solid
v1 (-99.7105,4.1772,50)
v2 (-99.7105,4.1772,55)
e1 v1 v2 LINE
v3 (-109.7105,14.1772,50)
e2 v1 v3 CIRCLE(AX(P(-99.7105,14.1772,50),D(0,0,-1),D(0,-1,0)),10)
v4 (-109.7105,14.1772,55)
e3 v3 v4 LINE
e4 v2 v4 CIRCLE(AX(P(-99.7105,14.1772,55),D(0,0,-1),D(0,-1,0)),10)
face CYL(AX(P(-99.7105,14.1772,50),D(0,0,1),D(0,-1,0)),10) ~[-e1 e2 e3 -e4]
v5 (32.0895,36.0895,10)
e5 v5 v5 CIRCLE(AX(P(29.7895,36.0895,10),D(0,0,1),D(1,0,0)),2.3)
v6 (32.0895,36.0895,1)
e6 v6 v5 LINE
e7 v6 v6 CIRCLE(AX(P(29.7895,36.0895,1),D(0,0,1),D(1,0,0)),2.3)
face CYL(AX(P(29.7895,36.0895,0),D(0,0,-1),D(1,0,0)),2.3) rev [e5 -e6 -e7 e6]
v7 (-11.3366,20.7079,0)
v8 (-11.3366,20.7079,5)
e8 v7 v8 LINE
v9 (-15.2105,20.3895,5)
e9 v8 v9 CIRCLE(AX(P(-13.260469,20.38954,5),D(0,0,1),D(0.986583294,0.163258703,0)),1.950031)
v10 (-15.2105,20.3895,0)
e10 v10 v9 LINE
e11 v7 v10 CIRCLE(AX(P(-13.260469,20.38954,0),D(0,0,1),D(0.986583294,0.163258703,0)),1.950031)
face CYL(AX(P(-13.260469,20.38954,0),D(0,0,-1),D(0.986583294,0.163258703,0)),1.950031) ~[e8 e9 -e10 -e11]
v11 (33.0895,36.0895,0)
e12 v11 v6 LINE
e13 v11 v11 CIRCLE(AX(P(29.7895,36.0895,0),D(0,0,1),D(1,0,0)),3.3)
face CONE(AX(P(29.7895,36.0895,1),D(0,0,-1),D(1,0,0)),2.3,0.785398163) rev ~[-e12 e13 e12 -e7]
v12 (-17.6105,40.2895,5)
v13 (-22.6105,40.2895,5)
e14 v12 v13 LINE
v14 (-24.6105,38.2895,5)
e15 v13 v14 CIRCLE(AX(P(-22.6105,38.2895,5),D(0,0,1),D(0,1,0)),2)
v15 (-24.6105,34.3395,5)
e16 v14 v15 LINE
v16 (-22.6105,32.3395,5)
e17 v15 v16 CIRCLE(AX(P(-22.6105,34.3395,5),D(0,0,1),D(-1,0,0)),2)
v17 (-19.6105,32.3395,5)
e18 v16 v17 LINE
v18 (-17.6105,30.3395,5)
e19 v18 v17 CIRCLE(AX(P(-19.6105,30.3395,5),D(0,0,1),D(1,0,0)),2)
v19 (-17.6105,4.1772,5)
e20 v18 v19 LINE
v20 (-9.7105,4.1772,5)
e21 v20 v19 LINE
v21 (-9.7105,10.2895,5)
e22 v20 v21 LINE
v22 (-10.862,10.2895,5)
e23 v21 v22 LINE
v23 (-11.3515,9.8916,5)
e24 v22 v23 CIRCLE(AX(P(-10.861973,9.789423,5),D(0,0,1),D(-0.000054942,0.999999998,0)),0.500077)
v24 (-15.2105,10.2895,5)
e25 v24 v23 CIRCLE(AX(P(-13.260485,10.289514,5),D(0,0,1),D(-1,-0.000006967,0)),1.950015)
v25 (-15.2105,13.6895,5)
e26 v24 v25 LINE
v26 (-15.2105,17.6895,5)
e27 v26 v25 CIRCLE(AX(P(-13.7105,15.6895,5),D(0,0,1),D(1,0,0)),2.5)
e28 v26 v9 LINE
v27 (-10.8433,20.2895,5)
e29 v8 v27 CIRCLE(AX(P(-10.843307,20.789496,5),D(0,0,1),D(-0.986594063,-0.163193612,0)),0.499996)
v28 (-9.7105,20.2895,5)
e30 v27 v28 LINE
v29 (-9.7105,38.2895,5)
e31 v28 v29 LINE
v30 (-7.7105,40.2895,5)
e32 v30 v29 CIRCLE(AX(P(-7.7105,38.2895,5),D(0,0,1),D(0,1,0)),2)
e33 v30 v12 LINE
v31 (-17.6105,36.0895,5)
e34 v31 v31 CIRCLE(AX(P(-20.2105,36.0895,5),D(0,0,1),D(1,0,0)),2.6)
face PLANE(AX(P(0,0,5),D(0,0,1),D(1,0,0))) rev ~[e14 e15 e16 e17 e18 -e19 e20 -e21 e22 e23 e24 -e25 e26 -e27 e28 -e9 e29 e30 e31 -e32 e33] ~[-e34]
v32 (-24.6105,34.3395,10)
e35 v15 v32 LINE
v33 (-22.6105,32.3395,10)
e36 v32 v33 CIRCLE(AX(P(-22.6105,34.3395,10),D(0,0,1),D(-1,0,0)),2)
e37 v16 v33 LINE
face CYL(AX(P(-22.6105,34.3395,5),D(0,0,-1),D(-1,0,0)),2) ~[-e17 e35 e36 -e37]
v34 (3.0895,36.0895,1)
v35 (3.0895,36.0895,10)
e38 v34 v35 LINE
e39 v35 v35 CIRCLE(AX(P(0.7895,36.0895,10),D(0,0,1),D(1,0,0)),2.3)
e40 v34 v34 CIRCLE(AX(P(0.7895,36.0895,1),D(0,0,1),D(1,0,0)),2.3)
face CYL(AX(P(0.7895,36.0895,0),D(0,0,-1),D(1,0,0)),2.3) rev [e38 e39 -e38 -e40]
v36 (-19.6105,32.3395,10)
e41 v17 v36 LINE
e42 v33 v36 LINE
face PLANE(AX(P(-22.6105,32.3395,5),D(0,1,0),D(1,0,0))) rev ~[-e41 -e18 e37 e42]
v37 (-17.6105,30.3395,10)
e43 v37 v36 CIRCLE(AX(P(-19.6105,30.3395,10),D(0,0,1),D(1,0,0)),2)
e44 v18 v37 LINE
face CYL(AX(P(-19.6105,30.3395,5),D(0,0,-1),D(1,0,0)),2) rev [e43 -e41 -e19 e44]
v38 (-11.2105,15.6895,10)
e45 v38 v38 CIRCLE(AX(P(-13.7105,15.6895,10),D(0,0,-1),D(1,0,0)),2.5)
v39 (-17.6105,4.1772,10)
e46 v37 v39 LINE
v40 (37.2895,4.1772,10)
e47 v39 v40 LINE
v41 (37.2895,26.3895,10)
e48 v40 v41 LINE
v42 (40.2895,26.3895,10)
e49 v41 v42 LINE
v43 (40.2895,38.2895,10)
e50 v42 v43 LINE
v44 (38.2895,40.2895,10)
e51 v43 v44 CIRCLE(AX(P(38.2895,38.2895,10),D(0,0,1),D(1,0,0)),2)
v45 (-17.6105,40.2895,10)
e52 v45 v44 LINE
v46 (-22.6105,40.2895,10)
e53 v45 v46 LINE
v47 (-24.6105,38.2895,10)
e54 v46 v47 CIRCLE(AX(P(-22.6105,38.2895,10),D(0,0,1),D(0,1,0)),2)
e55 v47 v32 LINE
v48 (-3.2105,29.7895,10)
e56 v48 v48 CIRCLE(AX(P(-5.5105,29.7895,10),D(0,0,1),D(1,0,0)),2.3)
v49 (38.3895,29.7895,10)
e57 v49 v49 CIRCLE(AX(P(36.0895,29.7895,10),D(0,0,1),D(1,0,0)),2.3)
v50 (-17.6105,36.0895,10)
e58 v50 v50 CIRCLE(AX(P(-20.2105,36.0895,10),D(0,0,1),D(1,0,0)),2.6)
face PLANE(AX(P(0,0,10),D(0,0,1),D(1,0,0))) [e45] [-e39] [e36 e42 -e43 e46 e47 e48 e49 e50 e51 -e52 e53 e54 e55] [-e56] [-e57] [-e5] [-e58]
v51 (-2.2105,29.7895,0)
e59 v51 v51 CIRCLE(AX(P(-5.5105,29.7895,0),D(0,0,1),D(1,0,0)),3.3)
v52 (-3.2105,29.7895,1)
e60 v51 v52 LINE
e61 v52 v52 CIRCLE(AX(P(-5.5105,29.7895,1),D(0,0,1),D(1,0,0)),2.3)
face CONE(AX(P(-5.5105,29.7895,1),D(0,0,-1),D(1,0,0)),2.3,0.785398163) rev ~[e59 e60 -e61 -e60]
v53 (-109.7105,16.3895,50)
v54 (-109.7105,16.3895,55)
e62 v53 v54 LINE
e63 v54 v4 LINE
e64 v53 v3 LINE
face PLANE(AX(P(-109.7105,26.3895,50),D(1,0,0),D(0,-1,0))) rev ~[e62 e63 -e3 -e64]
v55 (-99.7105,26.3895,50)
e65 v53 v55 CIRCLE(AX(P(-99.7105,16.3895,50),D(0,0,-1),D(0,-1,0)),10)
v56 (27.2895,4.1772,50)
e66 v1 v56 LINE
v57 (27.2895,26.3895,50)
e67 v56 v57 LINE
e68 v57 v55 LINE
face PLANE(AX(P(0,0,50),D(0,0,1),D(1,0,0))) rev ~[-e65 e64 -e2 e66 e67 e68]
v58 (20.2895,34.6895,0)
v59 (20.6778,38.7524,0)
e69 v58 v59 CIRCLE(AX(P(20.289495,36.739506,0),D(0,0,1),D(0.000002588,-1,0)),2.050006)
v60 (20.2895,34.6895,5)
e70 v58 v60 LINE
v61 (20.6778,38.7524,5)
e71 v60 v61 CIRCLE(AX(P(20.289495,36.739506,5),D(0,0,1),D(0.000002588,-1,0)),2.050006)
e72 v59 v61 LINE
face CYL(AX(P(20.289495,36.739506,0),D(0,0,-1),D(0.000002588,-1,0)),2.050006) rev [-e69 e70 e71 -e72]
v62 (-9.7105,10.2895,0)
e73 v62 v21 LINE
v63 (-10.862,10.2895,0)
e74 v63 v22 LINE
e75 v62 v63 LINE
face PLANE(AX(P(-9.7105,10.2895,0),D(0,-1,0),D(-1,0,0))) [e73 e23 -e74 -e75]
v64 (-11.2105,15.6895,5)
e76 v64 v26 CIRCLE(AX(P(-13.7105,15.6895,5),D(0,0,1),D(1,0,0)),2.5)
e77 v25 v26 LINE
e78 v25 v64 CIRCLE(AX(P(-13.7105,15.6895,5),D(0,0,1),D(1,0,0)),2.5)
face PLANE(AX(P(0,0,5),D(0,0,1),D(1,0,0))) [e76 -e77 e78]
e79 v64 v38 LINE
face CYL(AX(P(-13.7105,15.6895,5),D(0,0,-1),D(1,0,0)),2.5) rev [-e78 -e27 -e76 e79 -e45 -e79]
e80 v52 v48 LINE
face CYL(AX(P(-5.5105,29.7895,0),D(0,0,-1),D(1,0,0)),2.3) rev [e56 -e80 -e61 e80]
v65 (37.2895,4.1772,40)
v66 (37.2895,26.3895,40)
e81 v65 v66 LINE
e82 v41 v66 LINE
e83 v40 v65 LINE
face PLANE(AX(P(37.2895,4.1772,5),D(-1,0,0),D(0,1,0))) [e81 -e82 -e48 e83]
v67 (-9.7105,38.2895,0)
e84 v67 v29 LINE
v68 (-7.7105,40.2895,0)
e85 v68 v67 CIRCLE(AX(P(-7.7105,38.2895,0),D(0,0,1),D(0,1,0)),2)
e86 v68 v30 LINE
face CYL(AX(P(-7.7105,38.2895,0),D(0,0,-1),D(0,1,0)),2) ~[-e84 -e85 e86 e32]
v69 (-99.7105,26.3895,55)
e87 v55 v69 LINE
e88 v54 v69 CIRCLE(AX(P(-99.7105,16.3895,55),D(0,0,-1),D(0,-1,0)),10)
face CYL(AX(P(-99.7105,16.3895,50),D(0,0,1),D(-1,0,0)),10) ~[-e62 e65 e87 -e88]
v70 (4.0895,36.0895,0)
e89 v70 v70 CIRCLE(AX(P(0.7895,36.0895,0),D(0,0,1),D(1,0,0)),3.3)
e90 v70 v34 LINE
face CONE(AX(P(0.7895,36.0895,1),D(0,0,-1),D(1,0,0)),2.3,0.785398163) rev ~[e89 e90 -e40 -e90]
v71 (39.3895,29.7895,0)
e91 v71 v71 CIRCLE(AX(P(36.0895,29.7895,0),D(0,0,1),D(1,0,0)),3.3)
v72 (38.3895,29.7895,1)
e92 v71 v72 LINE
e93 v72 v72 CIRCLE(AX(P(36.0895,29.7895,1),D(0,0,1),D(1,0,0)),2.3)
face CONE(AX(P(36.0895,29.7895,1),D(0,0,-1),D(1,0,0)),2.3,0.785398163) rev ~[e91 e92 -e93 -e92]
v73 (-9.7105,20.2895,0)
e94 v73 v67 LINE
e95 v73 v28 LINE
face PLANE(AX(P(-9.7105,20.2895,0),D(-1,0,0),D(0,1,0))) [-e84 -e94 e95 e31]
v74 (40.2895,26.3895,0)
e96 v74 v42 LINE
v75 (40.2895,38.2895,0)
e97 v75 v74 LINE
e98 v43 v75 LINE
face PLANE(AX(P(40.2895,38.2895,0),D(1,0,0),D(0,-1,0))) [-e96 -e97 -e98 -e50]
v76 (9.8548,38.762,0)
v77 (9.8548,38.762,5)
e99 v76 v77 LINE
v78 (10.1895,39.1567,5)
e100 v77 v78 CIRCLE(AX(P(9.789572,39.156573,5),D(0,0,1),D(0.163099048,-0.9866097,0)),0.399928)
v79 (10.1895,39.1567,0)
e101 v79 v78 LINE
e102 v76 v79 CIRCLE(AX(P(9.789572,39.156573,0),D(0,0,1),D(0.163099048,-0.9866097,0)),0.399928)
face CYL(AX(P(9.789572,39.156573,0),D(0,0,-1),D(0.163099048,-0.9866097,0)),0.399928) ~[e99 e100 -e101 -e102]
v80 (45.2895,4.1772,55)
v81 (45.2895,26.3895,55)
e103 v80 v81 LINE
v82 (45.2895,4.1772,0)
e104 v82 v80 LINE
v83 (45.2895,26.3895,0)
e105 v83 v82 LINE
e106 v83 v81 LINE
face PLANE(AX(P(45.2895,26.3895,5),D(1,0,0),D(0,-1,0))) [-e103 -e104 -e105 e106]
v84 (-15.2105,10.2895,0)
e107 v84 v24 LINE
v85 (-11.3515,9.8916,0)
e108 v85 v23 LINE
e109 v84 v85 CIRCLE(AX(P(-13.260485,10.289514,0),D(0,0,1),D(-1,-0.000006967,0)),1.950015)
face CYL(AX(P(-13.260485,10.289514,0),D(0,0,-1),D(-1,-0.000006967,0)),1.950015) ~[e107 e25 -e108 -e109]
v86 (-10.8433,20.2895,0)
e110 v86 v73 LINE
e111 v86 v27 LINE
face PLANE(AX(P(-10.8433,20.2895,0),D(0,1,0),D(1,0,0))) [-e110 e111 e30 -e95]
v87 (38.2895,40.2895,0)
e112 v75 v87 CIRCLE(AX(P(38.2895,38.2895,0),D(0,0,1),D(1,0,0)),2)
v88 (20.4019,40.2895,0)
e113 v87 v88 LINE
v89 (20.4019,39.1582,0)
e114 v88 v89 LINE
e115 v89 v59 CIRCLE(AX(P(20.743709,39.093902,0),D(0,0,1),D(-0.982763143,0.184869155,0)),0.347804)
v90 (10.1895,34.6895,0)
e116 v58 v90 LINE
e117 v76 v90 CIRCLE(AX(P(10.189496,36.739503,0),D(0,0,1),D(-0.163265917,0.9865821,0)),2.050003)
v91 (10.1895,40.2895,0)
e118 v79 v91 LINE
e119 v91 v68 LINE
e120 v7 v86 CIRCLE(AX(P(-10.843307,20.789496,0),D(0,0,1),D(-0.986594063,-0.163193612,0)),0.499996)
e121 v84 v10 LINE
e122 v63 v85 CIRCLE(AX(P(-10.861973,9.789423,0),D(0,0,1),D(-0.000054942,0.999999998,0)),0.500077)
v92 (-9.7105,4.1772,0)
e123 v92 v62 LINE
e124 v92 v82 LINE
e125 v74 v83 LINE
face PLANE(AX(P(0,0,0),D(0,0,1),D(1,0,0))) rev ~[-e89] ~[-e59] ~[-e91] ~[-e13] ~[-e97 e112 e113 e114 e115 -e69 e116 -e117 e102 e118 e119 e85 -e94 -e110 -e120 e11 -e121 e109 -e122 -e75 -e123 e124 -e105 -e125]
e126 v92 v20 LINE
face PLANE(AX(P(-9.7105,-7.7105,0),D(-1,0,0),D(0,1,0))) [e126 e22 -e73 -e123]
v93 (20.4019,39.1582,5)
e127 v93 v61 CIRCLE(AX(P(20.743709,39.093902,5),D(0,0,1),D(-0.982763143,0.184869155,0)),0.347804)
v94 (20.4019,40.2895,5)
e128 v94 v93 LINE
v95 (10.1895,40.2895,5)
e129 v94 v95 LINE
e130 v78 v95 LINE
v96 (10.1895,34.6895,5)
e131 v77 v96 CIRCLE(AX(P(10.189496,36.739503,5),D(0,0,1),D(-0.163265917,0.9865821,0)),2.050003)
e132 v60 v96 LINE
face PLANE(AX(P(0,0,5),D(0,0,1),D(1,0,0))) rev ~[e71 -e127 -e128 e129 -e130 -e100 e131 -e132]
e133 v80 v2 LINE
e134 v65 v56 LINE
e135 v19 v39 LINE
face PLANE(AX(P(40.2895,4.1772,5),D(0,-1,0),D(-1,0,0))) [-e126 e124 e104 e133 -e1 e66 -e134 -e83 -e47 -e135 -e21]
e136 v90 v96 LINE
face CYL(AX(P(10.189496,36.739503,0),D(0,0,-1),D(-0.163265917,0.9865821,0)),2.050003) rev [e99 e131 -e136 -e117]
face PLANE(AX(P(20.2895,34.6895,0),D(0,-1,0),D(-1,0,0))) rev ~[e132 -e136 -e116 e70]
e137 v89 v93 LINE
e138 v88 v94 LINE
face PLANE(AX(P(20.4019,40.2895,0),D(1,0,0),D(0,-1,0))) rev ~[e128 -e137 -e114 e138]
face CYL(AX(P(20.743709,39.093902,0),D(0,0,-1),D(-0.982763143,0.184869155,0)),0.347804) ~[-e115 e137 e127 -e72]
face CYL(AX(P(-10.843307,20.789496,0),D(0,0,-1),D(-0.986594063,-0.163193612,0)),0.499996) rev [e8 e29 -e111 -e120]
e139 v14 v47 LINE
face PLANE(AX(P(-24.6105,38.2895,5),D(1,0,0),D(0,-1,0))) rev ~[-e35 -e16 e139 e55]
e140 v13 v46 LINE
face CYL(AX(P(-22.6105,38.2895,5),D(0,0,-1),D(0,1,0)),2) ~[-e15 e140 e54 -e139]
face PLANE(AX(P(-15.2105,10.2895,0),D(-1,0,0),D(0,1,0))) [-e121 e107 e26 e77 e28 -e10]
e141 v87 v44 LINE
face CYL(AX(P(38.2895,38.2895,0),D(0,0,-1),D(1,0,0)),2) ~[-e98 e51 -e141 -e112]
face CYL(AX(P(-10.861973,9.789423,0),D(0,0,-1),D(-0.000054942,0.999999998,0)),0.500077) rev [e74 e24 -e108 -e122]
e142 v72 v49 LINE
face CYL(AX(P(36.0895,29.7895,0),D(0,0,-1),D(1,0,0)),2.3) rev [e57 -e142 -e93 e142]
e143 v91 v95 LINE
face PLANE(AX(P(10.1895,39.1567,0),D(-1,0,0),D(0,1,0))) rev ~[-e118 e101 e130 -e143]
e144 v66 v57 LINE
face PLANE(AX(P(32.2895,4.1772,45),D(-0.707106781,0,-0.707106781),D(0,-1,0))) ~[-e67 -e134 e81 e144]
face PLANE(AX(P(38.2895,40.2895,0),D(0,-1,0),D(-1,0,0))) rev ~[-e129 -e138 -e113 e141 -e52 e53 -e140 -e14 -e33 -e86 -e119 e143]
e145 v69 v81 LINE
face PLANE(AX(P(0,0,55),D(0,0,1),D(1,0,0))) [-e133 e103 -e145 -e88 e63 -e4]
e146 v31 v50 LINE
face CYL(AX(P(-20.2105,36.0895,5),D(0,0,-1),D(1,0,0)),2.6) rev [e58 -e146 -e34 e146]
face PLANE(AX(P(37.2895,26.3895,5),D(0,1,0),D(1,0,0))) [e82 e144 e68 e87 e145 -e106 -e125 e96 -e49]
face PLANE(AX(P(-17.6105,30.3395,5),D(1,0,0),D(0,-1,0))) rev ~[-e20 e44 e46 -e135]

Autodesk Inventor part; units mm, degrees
ref_plane "YZ Plane" through (0, 0, 0) normal (1, 0, 0) x (0, 1, 0)
ref_plane "XZ Plane" through (0, 0, 0) normal (0, 1, 0) x (-1, 0, 0)
ref_plane "XY Plane" through (0, 0, 0) normal (0, 0, 1) x (1, 0, 0)
ref_plane "Arbeitsebene1" through (0, 0, 0) normal (0, 0, 1) x (1, 0, 0)
sketch "Skizze1" plane through (0, 0, 0) normal (0, 0, 1) x (1, 0, 0)
  circle A0 centre (-6.0705, 15.2895) radius 3.5 projected
  circle A1 centre (15.2895, -6.0705) radius 3.5 projected
  line L0 (30.5395, 32.5395) -> (0.0395, 32.5395) projected
  arc A2 (32.5395, 30.5395) -> (30.5395, 32.5395) centre (30.5395, 30.5395) ccw projected
  line L1 (32.5395, 30.5395) -> (32.5395, 0.0395) projected
  arc A3 (30.5395, -1.9605) -> (32.5395, 0.0395) centre (30.5395, 0.0395) ccw projected
  line L2 (0.0395, -1.9605) -> (30.5395, -1.9605) projected
  arc A4 (-1.9605, 0.0395) -> (0.0395, -1.9605) centre (0.0395, 0.0395) ccw projected
  line L3 (-1.9605, 0.0395) -> (-1.9605, 30.5395) projected
  arc A5 (0.0395, 32.5395) -> (-1.9605, 30.5395) centre (0.0395, 30.5395) ccw projected
  circle A6 centre (-4.7105, -4.7105) radius 2.45 projected
  circle A7 centre (0.7895, -5.5105) radius 2.3 projected
  circle A8 centre (-5.5105, 0.7895) radius 2.3 projected
  circle A9 centre (-5.5105, 29.7895) radius 2.3 projected
  circle A10 centre (0.7895, 36.0895) radius 2.3 projected
  circle A11 centre (-4.7105, 35.2895) radius 2.45 projected
  circle A12 centre (36.0895, 0.7895) radius 2.3 projected
  circle A13 centre (29.7895, -5.5105) radius 2.3 projected
  circle A14 centre (35.2895, -4.7105) radius 2.45 projected
  circle A15 centre (36.0895, 29.7895) radius 2.3 projected
  circle A16 centre (29.7895, 36.0895) radius 2.3 projected
  circle A17 centre (35.2895, 35.2895) radius 2.45 projected
  line L4 (20.4019, 40.2895) -> (20.4019, 39.1582) projected
  arc A18 (20.4019, 39.1582) -> (20.6778, 38.7524) centre (20.7437, 39.0939) ccw projected
  arc A19 (20.2895, 34.6895) -> (20.6778, 38.7524) centre (20.2895, 36.7395) ccw projected
  line L5 (20.2895, 34.6895) -> (10.1895, 34.6895) projected
  arc A20 (9.8548, 38.762) -> (10.1895, 34.6895) centre (10.1895, 36.7395) ccw projected
  arc A21 (9.8548, 38.762) -> (10.1895, 39.1567) centre (9.7895, 39.1567) ccw projected
  line L6 (10.1895, 39.1567) -> (10.1895, 40.2895) projected
  line L7 (10.1895, 40.2895) -> (-7.7105, 40.2895) projected
  arc A22 (-7.7105, 40.2895) -> (-9.7105, 38.2895) centre (-7.7105, 38.2895) ccw projected
  line L8 (-9.7105, 20.2895) -> (-9.7105, 38.2895) projected
  line L9 (-10.8433, 20.2895) -> (-9.7105, 20.2895) projected
  arc A23 (-11.3366, 20.7079) -> (-10.8433, 20.2895) centre (-10.8433, 20.7895) ccw projected
  arc A24 (-11.3366, 20.7079) -> (-15.2105, 20.3895) centre (-13.2605, 20.3895) ccw projected
  line L10 (-15.2105, 10.2895) -> (-15.2105, 20.3895) projected
  arc A25 (-15.2105, 10.2895) -> (-11.3515, 9.8916) centre (-13.2605, 10.2895) ccw projected
  arc A26 (-10.862, 10.2895) -> (-11.3515, 9.8916) centre (-10.862, 9.7895) ccw projected
  line L11 (-9.7105, 10.2895) -> (-10.862, 10.2895) projected
  line L12 (-9.7105, -7.7105) -> (-9.7105, 10.2895) projected
  arc A27 (-9.7105, -7.7105) -> (-7.7105, -9.7105) centre (-7.7105, -7.7105) ccw projected
  line L13 (-7.7105, -9.7105) -> (10.2895, -9.7105) projected
  line L14 (10.2895, -10.8433) -> (10.2895, -9.7105) projected
  arc A28 (9.8712, -11.3366) -> (10.2895, -10.8433) centre (9.7895, -10.8433) ccw projected
  arc A29 (9.8712, -11.3366) -> (10.1895, -15.2105) centre (10.1895, -13.2605) ccw projected
  line L15 (20.2895, -15.2105) -> (10.1895, -15.2105) projected
  arc A30 (20.2895, -15.2105) -> (20.6875, -11.3515) centre (20.2895, -13.2605) ccw projected
  arc A31 (20.2895, -10.862) -> (20.6875, -11.3515) centre (20.7895, -10.862) ccw projected
  line L16 (20.2895, -9.7105) -> (20.2895, -10.862) projected
  line L17 (20.2895, -9.7105) -> (38.2895, -9.7105) projected
  arc A32 (38.2895, -9.7105) -> (40.2895, -7.7105) centre (38.2895, -7.7105) ccw projected
  line L18 (40.2895, 10.1772) -> (40.2895, -7.7105) projected
  line L19 (40.2895, 10.1772) -> (39.1582, 10.1772) projected
  arc A33 (39.1582, 10.1772) -> (38.7524, 9.9013) centre (39.0939, 9.8354) ccw projected
  arc A34 (34.6895, 10.2895) -> (38.7524, 9.9013) centre (36.7395, 10.2895) ccw projected
  line L20 (34.6895, 10.2895) -> (34.6895, 20.3895) projected
  arc A35 (38.762, 20.7242) -> (34.6895, 20.3895) centre (36.7395, 20.3895) ccw projected
  arc A36 (38.762, 20.7242) -> (39.1567, 20.3895) centre (39.1567, 20.7895) ccw projected
  line L21 (39.1567, 20.3895) -> (40.2895, 20.3895) projected
  line L22 (40.2895, 38.2895) -> (40.2895, 20.3895) projected
  arc A37 (40.2895, 38.2895) -> (38.2895, 40.2895) centre (38.2895, 38.2895) ccw projected
  line L23 (38.2895, 40.2895) -> (20.4019, 40.2895) projected
  line L24 (40.2895, 26.3895) -> (45.2895, 26.3895)
  line L25 (45.2895, 26.3895) -> (45.2895, 4.1772)
  line L26 (45.2895, 4.1772) -> (40.2895, 4.1772)
  line L27 (40.2895, 4.1772) -> (40.2895, 26.3895)
  point P0 (0, 0)
  dimension "d0" = 5
  dimension "d2" = 6
  dimension "d3" = 6
extrude "Extrusion1" add sketch "Skizze1" along normal blind 5 contours A0 | A2 L1 A3 L2 A4 L3 A5 L0 | A6 | A11 | A14 | A17 | L23 A37 L22 L21 A36 A35 L20 A34 A33 L19 L18 A32 L17 L16 A31 A30 L15 A29 A28 L14 L13 A27 L12 L11 A26 A25 L10 A24 A23 L9 L8 A22 L7 L6 A21 A20 L5 A19 A18 L4 | L24 L25 L26 L18 L27 L22 | L27 L19 A33 A34 L20 A35 A36 L21
chamfer "Fase1" distance 1 angle 45 8 edges at (-1.5105, 36.0895, 0) (27.4895, 36.0895, 0) (33.7895, 29.7895, 0) (33.7895, 0.7895, 0) (27.4895, -5.5105, 0) (-1.5105, -5.5105, 0) (-7.8105, 0.7895, 0) (-7.8105, 29.7895, 0)
sketch "Skizze2" plane through (0, 0, 5) normal (0, 0, 1) x (1, 0, 0)
  line L0 (40.2895, 4.1772) -> (45.2895, 4.1772) projected
  line L1 (45.2895, 26.3895) -> (40.2895, 26.3895) projected
  line L2 (45.2895, 4.1772) -> (37.2895, 4.1772)
  line L3 (37.2895, 4.1772) -> (37.2895, 26.3895)
  line L4 (37.2895, 26.3895) -> (45.2895, 26.3895)
  line L5 (45.2895, 26.3895) -> (45.2895, 4.1772)
  point P0 (0, 0)
  point P1 (45.2895, 26.3895)
  point P2 (40.2895, 4.1772)
  dimension "d9" = 8
extrude "Extrusion2" add sketch "Skizze2" along normal blind 45
sketch "Skizze3" plane through (0, 0, 50) normal (0, 0, 1) x (1, 0, 0)
  line L0 (45.2895, 26.3895) -> (37.2895, 26.3895) projected
  line L1 (37.2895, 26.3895) -> (37.2895, 4.1772) projected
  line L2 (37.2895, 4.1772) -> (45.2895, 4.1772) projected
  line L3 (45.2895, 4.1772) -> (45.2895, 26.3895) projected
  line L4 (45.2895, 26.3895) -> (37.2895, 26.3895) projected
  line L5 (37.2895, 26.3895) -> (-109.7105, 26.3895)
  line L6 (-109.7105, 26.3895) -> (-109.7105, 4.1772)
  line L7 (-109.7105, 4.1772) -> (37.2895, 4.1772)
  line L8 (37.2895, 4.1772) -> (37.2895, 26.3895)
  circle A0 centre (36.0895, 29.7895) radius 2.3 projected
  circle A1 centre (29.7895, -5.5105) radius 2.3 projected
  circle A2 centre (0.7895, 36.0895) radius 2.3 projected
  circle A3 centre (-5.5105, 29.7895) radius 2.3 projected
  circle A4 centre (-5.5105, 0.7895) radius 2.3 projected
  circle A5 centre (0.7895, -5.5105) radius 2.3 projected
  circle A6 centre (15.2895, -6.0705) radius 3.5 projected
  circle A7 centre (36.0895, 0.7895) radius 2.3 projected
  circle A8 centre (29.7895, 36.0895) radius 2.3 projected
  arc A9 (40.2895, 38.2895) -> (38.2895, 40.2895) centre (38.2895, 38.2895) ccw projected
  line L9 (38.2895, 40.2895) -> (20.4019, 40.2895) projected
  line L10 (20.4019, 40.2895) -> (20.4019, 39.1582) projected
  arc A10 (20.4019, 39.1582) -> (20.6778, 38.7524) centre (20.7437, 39.0939) ccw projected
  arc A11 (20.2895, 34.6895) -> (20.6778, 38.7524) centre (20.2895, 36.7395) ccw projected
  line L11 (20.2895, 34.6895) -> (10.1895, 34.6895) projected
  arc A12 (9.8548, 38.762) -> (10.1895, 34.6895) centre (10.1895, 36.7395) ccw projected
  arc A13 (9.8548, 38.762) -> (10.1895, 39.1567) centre (9.7895, 39.1567) ccw projected
  line L12 (10.1895, 39.1567) -> (10.1895, 40.2895) projected
  line L13 (10.1895, 40.2895) -> (-7.7105, 40.2895) projected
  arc A14 (-7.7105, 40.2895) -> (-9.7105, 38.2895) centre (-7.7105, 38.2895) ccw projected
  line L14 (-9.7105, 38.2895) -> (-9.7105, 20.2895) projected
  line L15 (-9.7105, 20.2895) -> (-10.8433, 20.2895) projected
  arc A15 (-11.3366, 20.7079) -> (-10.8433, 20.2895) centre (-10.8433, 20.7895) ccw projected
  arc A16 (-11.3366, 20.7079) -> (-15.2105, 20.3895) centre (-13.2605, 20.3895) ccw projected
  line L16 (-15.2105, 20.3895) -> (-15.2105, 10.2895) projected
  arc A17 (-15.2105, 10.2895) -> (-11.3515, 9.8916) centre (-13.2605, 10.2895) ccw projected
  arc A18 (-10.862, 10.2895) -> (-11.3515, 9.8916) centre (-10.862, 9.7895) ccw projected
  line L17 (-10.862, 10.2895) -> (-9.7105, 10.2895) projected
  line L18 (-9.7105, 10.2895) -> (-9.7105, -7.7105) projected
  arc A19 (-9.7105, -7.7105) -> (-7.7105, -9.7105) centre (-7.7105, -7.7105) ccw projected
  line L19 (-7.7105, -9.7105) -> (10.2895, -9.7105) projected
  line L20 (10.2895, -9.7105) -> (10.2895, -10.8433) projected
  arc A20 (9.8712, -11.3366) -> (10.2895, -10.8433) centre (9.7895, -10.8433) ccw projected
  arc A21 (9.8712, -11.3366) -> (10.1895, -15.2105) centre (10.1895, -13.2605) ccw projected
  line L21 (10.1895, -15.2105) -> (20.2895, -15.2105) projected
  arc A22 (20.2895, -15.2105) -> (20.6875, -11.3515) centre (20.2895, -13.2605) ccw projected
  arc A23 (20.2895, -10.862) -> (20.6875, -11.3515) centre (20.7895, -10.862) ccw projected
  line L22 (20.2895, -10.862) -> (20.2895, -9.7105) projected
  line L23 (20.2895, -9.7105) -> (38.2895, -9.7105) projected
  arc A24 (38.2895, -9.7105) -> (40.2895, -7.7105) centre (38.2895, -7.7105) ccw projected
  line L24 (40.2895, -7.7105) -> (40.2895, 4.1772) projected
  line L25 (37.2895, 4.1772) -> (37.2895, 26.3895) projected
  line L26 (40.2895, 26.3895) -> (40.2895, 38.2895) projected
  line L27 (37.2895, 26.3895) -> (40.2895, 26.3895) projected
  line L28 (40.2895, 4.1772) -> (37.2895, 4.1772) projected
  point P0 (0, 0)
  dimension "d24" = 100
extrude "Extrusion3" add sketch "Skizze3" along normal blind 5 contours L3 L2 L1 L0 | L1 L7 L18 L17 A18 A17 L16 A16 A15 L15 L14 L5 | L14 L15 A15 A16 L16 A17 A18 L17 L18 L7 L6 L5
chamfer "Fase2" distance 10 angle 45 1 edges at (37.2895, 15.2834, 50)
sketch "Skizze5" plane through (0, 0, 5) normal (0, 0, 1) x (1, 0, 0)
  line L0 (-109.7105, 4.1772) -> (45.2895, 4.1772) projected
  line L1 (45.2895, 4.1772) -> (45.2895, 26.3895) projected
  line L2 (45.2895, 26.3895) -> (-109.7105, 26.3895) projected
  line L3 (-109.7105, 26.3895) -> (-109.7105, 4.1772) projected
  line L4 (-109.7105, 4.1772) -> (45.2895, 4.1772) projected
  line L5 (-38.4596, 4.1772) -> (42.3638, 4.1772)
  line L6 (42.3638, 4.1772) -> (42.3638, -19.3333)
  line L7 (42.3638, -19.3333) -> (-38.4596, -19.3333)
  line L8 (-38.4596, -19.3333) -> (-38.4596, 4.1772)
  point P0 (0, 0)
  point P1 (-38.4596, 4.1772)
  point P2 (-38.4596, 4.1772)
extrude "Extrusion5" cut sketch "Skizze5" against normal blind 10 contours L0 L6 L7 L8
fillet "Rundung1" radius 10 2 edges at (-109.7105, 4.1772, 52.5) (-109.7105, 26.3895, 52.5)
sketch "Skizze6" plane through (0, 0, 5) normal (0, 0, 1) x (1, 0, 0)
  circle A0 centre (36.0895, 29.7895) radius 2.3 projected
  circle A1 centre (0.7895, 36.0895) radius 2.3 projected
  circle A2 centre (-5.5105, 29.7895) radius 2.3 projected
  circle A3 centre (29.7895, 36.0895) radius 2.3 projected
  line L0 (-9.7105, 4.1772) -> (37.2895, 4.1772) projected
  line L1 (37.2895, 26.3895) -> (40.2895, 26.3895) projected
  line L2 (40.2895, 26.3895) -> (40.2895, 38.2895) projected
  arc A4 (40.2895, 38.2895) -> (38.2895, 40.2895) centre (38.2895, 38.2895) ccw projected
  line L3 (38.2895, 40.2895) -> (20.4019, 40.2895) projected
  line L4 (20.4019, 40.2895) -> (20.4019, 39.1582) projected
  arc A5 (20.4019, 39.1582) -> (20.6778, 38.7524) centre (20.7437, 39.0939) ccw projected
  arc A6 (20.2895, 34.6895) -> (20.6778, 38.7524) centre (20.2895, 36.7395) ccw projected
  line L5 (20.2895, 34.6895) -> (10.1895, 34.6895) projected
  arc A7 (9.8548, 38.762) -> (10.1895, 34.6895) centre (10.1895, 36.7395) ccw projected
  arc A8 (9.8548, 38.762) -> (10.1895, 39.1567) centre (9.7895, 39.1567) ccw projected
  line L6 (10.1895, 39.1567) -> (10.1895, 40.2895) projected
  line L7 (10.1895, 40.2895) -> (-7.7105, 40.2895) projected
  arc A9 (-7.7105, 40.2895) -> (-9.7105, 38.2895) centre (-7.7105, 38.2895) ccw projected
  line L8 (-9.7105, 38.2895) -> (-9.7105, 20.2895) projected
  line L9 (-9.7105, 20.2895) -> (-10.8433, 20.2895) projected
  arc A10 (-11.3366, 20.7079) -> (-10.8433, 20.2895) centre (-10.8433, 20.7895) ccw projected
  arc A11 (-11.3366, 20.7079) -> (-15.2105, 20.3895) centre (-13.2605, 20.3895) ccw projected
  line L10 (-15.2105, 20.3895) -> (-15.2105, 10.2895) projected
  arc A12 (-15.2105, 10.2895) -> (-11.3515, 9.8916) centre (-13.2605, 10.2895) ccw projected
  arc A13 (-10.862, 10.2895) -> (-11.3515, 9.8916) centre (-10.862, 9.7895) ccw projected
  line L11 (-10.862, 10.2895) -> (-9.7105, 10.2895) projected
  line L12 (-9.7105, 10.2895) -> (-9.7105, 4.1772) projected
  circle A14 centre (-20.2105, 36.0895) radius 2.6
  line L13 (20.4019, 40.2895) -> (10.1895, 40.2895)
  line L14 (-9.7105, 40.2895) -> (-17.6105, 40.2895)
  line L15 (-17.6105, 30.3395) -> (-17.6105, 4.1772)
  line L16 (-17.6105, 4.1772) -> (-9.7105, 4.1772)
  line L17 (-9.7105, 4.1772) -> (-9.7105, 40.2895)
  line L18 (-17.6105, 40.2895) -> (-22.6105, 40.2895)
  line L19 (-24.6105, 38.2895) -> (-24.6105, 34.3395)
  line L20 (-22.6105, 32.3395) -> (-19.6105, 32.3395)
  line L21 (-17.6105, 32.3395) -> (-17.6105, 40.2895)
  circle A15 centre (-14.7105, 35.2895) radius 2.425 projected
  circle A16 centre (-13.9105, 29.7895) radius 2.6 projected
  line L22 (27.2895, 4.1772) -> (37.2895, 4.1772) projected
  line L23 (37.2895, 4.1772) -> (37.2895, 26.3895) projected
  line L24 (37.2895, 26.3895) -> (27.2895, 26.3895) projected
  line L25 (27.2895, 26.3895) -> (27.2895, 4.1772) projected
  circle A17 centre (-13.7105, 15.6895) radius 2.5
  line L26 (37.2895, 4.1772) -> (37.2895, 26.3895) projected
  line L27 (-9.7105, 40.2895) -> (-7.7105, 40.2895)
  arc A18 (-22.6105, 40.2895) -> (-24.6105, 38.2895) centre (-22.6105, 38.2895) ccw
  arc A19 (-24.6105, 34.3395) -> (-22.6105, 32.3395) centre (-22.6105, 34.3395) ccw
  arc A20 (-17.6105, 30.3395) -> (-19.6105, 32.3395) centre (-19.6105, 30.3395) ccw
  point P0 (0, 0)
  point P1 (-24.6105, 32.3395)
  point P2 (-24.6105, 40.2895)
  point P3 (-17.6105, 32.3395)
  dimension "d25" = 7
  dimension "d28" = 2
extrude "Extrusion6" add sketch "Skizze6" along normal blind 5 contours L12 L17 L8 A9 L7 L6 A8 A7 L5 A6 A5 L4 L3 A4 L2 L1 L24 L25 L0 | L16 L15 A20 L20 A19 L19 A18 L18 L14 L17 L8 L9 A10 A11 L10 A17 A12 A13 L11 L12 | L25 L24 L23 L0 | L11 A13 A12 L10 A17 A11 A10 L9 L17 | L17 L27 A9 | L13 L4 A5 A6 L5 A7 A8 L6 | A15 | A16
properties part number "40_Cube_XY_Table_Illumination_Arm"
